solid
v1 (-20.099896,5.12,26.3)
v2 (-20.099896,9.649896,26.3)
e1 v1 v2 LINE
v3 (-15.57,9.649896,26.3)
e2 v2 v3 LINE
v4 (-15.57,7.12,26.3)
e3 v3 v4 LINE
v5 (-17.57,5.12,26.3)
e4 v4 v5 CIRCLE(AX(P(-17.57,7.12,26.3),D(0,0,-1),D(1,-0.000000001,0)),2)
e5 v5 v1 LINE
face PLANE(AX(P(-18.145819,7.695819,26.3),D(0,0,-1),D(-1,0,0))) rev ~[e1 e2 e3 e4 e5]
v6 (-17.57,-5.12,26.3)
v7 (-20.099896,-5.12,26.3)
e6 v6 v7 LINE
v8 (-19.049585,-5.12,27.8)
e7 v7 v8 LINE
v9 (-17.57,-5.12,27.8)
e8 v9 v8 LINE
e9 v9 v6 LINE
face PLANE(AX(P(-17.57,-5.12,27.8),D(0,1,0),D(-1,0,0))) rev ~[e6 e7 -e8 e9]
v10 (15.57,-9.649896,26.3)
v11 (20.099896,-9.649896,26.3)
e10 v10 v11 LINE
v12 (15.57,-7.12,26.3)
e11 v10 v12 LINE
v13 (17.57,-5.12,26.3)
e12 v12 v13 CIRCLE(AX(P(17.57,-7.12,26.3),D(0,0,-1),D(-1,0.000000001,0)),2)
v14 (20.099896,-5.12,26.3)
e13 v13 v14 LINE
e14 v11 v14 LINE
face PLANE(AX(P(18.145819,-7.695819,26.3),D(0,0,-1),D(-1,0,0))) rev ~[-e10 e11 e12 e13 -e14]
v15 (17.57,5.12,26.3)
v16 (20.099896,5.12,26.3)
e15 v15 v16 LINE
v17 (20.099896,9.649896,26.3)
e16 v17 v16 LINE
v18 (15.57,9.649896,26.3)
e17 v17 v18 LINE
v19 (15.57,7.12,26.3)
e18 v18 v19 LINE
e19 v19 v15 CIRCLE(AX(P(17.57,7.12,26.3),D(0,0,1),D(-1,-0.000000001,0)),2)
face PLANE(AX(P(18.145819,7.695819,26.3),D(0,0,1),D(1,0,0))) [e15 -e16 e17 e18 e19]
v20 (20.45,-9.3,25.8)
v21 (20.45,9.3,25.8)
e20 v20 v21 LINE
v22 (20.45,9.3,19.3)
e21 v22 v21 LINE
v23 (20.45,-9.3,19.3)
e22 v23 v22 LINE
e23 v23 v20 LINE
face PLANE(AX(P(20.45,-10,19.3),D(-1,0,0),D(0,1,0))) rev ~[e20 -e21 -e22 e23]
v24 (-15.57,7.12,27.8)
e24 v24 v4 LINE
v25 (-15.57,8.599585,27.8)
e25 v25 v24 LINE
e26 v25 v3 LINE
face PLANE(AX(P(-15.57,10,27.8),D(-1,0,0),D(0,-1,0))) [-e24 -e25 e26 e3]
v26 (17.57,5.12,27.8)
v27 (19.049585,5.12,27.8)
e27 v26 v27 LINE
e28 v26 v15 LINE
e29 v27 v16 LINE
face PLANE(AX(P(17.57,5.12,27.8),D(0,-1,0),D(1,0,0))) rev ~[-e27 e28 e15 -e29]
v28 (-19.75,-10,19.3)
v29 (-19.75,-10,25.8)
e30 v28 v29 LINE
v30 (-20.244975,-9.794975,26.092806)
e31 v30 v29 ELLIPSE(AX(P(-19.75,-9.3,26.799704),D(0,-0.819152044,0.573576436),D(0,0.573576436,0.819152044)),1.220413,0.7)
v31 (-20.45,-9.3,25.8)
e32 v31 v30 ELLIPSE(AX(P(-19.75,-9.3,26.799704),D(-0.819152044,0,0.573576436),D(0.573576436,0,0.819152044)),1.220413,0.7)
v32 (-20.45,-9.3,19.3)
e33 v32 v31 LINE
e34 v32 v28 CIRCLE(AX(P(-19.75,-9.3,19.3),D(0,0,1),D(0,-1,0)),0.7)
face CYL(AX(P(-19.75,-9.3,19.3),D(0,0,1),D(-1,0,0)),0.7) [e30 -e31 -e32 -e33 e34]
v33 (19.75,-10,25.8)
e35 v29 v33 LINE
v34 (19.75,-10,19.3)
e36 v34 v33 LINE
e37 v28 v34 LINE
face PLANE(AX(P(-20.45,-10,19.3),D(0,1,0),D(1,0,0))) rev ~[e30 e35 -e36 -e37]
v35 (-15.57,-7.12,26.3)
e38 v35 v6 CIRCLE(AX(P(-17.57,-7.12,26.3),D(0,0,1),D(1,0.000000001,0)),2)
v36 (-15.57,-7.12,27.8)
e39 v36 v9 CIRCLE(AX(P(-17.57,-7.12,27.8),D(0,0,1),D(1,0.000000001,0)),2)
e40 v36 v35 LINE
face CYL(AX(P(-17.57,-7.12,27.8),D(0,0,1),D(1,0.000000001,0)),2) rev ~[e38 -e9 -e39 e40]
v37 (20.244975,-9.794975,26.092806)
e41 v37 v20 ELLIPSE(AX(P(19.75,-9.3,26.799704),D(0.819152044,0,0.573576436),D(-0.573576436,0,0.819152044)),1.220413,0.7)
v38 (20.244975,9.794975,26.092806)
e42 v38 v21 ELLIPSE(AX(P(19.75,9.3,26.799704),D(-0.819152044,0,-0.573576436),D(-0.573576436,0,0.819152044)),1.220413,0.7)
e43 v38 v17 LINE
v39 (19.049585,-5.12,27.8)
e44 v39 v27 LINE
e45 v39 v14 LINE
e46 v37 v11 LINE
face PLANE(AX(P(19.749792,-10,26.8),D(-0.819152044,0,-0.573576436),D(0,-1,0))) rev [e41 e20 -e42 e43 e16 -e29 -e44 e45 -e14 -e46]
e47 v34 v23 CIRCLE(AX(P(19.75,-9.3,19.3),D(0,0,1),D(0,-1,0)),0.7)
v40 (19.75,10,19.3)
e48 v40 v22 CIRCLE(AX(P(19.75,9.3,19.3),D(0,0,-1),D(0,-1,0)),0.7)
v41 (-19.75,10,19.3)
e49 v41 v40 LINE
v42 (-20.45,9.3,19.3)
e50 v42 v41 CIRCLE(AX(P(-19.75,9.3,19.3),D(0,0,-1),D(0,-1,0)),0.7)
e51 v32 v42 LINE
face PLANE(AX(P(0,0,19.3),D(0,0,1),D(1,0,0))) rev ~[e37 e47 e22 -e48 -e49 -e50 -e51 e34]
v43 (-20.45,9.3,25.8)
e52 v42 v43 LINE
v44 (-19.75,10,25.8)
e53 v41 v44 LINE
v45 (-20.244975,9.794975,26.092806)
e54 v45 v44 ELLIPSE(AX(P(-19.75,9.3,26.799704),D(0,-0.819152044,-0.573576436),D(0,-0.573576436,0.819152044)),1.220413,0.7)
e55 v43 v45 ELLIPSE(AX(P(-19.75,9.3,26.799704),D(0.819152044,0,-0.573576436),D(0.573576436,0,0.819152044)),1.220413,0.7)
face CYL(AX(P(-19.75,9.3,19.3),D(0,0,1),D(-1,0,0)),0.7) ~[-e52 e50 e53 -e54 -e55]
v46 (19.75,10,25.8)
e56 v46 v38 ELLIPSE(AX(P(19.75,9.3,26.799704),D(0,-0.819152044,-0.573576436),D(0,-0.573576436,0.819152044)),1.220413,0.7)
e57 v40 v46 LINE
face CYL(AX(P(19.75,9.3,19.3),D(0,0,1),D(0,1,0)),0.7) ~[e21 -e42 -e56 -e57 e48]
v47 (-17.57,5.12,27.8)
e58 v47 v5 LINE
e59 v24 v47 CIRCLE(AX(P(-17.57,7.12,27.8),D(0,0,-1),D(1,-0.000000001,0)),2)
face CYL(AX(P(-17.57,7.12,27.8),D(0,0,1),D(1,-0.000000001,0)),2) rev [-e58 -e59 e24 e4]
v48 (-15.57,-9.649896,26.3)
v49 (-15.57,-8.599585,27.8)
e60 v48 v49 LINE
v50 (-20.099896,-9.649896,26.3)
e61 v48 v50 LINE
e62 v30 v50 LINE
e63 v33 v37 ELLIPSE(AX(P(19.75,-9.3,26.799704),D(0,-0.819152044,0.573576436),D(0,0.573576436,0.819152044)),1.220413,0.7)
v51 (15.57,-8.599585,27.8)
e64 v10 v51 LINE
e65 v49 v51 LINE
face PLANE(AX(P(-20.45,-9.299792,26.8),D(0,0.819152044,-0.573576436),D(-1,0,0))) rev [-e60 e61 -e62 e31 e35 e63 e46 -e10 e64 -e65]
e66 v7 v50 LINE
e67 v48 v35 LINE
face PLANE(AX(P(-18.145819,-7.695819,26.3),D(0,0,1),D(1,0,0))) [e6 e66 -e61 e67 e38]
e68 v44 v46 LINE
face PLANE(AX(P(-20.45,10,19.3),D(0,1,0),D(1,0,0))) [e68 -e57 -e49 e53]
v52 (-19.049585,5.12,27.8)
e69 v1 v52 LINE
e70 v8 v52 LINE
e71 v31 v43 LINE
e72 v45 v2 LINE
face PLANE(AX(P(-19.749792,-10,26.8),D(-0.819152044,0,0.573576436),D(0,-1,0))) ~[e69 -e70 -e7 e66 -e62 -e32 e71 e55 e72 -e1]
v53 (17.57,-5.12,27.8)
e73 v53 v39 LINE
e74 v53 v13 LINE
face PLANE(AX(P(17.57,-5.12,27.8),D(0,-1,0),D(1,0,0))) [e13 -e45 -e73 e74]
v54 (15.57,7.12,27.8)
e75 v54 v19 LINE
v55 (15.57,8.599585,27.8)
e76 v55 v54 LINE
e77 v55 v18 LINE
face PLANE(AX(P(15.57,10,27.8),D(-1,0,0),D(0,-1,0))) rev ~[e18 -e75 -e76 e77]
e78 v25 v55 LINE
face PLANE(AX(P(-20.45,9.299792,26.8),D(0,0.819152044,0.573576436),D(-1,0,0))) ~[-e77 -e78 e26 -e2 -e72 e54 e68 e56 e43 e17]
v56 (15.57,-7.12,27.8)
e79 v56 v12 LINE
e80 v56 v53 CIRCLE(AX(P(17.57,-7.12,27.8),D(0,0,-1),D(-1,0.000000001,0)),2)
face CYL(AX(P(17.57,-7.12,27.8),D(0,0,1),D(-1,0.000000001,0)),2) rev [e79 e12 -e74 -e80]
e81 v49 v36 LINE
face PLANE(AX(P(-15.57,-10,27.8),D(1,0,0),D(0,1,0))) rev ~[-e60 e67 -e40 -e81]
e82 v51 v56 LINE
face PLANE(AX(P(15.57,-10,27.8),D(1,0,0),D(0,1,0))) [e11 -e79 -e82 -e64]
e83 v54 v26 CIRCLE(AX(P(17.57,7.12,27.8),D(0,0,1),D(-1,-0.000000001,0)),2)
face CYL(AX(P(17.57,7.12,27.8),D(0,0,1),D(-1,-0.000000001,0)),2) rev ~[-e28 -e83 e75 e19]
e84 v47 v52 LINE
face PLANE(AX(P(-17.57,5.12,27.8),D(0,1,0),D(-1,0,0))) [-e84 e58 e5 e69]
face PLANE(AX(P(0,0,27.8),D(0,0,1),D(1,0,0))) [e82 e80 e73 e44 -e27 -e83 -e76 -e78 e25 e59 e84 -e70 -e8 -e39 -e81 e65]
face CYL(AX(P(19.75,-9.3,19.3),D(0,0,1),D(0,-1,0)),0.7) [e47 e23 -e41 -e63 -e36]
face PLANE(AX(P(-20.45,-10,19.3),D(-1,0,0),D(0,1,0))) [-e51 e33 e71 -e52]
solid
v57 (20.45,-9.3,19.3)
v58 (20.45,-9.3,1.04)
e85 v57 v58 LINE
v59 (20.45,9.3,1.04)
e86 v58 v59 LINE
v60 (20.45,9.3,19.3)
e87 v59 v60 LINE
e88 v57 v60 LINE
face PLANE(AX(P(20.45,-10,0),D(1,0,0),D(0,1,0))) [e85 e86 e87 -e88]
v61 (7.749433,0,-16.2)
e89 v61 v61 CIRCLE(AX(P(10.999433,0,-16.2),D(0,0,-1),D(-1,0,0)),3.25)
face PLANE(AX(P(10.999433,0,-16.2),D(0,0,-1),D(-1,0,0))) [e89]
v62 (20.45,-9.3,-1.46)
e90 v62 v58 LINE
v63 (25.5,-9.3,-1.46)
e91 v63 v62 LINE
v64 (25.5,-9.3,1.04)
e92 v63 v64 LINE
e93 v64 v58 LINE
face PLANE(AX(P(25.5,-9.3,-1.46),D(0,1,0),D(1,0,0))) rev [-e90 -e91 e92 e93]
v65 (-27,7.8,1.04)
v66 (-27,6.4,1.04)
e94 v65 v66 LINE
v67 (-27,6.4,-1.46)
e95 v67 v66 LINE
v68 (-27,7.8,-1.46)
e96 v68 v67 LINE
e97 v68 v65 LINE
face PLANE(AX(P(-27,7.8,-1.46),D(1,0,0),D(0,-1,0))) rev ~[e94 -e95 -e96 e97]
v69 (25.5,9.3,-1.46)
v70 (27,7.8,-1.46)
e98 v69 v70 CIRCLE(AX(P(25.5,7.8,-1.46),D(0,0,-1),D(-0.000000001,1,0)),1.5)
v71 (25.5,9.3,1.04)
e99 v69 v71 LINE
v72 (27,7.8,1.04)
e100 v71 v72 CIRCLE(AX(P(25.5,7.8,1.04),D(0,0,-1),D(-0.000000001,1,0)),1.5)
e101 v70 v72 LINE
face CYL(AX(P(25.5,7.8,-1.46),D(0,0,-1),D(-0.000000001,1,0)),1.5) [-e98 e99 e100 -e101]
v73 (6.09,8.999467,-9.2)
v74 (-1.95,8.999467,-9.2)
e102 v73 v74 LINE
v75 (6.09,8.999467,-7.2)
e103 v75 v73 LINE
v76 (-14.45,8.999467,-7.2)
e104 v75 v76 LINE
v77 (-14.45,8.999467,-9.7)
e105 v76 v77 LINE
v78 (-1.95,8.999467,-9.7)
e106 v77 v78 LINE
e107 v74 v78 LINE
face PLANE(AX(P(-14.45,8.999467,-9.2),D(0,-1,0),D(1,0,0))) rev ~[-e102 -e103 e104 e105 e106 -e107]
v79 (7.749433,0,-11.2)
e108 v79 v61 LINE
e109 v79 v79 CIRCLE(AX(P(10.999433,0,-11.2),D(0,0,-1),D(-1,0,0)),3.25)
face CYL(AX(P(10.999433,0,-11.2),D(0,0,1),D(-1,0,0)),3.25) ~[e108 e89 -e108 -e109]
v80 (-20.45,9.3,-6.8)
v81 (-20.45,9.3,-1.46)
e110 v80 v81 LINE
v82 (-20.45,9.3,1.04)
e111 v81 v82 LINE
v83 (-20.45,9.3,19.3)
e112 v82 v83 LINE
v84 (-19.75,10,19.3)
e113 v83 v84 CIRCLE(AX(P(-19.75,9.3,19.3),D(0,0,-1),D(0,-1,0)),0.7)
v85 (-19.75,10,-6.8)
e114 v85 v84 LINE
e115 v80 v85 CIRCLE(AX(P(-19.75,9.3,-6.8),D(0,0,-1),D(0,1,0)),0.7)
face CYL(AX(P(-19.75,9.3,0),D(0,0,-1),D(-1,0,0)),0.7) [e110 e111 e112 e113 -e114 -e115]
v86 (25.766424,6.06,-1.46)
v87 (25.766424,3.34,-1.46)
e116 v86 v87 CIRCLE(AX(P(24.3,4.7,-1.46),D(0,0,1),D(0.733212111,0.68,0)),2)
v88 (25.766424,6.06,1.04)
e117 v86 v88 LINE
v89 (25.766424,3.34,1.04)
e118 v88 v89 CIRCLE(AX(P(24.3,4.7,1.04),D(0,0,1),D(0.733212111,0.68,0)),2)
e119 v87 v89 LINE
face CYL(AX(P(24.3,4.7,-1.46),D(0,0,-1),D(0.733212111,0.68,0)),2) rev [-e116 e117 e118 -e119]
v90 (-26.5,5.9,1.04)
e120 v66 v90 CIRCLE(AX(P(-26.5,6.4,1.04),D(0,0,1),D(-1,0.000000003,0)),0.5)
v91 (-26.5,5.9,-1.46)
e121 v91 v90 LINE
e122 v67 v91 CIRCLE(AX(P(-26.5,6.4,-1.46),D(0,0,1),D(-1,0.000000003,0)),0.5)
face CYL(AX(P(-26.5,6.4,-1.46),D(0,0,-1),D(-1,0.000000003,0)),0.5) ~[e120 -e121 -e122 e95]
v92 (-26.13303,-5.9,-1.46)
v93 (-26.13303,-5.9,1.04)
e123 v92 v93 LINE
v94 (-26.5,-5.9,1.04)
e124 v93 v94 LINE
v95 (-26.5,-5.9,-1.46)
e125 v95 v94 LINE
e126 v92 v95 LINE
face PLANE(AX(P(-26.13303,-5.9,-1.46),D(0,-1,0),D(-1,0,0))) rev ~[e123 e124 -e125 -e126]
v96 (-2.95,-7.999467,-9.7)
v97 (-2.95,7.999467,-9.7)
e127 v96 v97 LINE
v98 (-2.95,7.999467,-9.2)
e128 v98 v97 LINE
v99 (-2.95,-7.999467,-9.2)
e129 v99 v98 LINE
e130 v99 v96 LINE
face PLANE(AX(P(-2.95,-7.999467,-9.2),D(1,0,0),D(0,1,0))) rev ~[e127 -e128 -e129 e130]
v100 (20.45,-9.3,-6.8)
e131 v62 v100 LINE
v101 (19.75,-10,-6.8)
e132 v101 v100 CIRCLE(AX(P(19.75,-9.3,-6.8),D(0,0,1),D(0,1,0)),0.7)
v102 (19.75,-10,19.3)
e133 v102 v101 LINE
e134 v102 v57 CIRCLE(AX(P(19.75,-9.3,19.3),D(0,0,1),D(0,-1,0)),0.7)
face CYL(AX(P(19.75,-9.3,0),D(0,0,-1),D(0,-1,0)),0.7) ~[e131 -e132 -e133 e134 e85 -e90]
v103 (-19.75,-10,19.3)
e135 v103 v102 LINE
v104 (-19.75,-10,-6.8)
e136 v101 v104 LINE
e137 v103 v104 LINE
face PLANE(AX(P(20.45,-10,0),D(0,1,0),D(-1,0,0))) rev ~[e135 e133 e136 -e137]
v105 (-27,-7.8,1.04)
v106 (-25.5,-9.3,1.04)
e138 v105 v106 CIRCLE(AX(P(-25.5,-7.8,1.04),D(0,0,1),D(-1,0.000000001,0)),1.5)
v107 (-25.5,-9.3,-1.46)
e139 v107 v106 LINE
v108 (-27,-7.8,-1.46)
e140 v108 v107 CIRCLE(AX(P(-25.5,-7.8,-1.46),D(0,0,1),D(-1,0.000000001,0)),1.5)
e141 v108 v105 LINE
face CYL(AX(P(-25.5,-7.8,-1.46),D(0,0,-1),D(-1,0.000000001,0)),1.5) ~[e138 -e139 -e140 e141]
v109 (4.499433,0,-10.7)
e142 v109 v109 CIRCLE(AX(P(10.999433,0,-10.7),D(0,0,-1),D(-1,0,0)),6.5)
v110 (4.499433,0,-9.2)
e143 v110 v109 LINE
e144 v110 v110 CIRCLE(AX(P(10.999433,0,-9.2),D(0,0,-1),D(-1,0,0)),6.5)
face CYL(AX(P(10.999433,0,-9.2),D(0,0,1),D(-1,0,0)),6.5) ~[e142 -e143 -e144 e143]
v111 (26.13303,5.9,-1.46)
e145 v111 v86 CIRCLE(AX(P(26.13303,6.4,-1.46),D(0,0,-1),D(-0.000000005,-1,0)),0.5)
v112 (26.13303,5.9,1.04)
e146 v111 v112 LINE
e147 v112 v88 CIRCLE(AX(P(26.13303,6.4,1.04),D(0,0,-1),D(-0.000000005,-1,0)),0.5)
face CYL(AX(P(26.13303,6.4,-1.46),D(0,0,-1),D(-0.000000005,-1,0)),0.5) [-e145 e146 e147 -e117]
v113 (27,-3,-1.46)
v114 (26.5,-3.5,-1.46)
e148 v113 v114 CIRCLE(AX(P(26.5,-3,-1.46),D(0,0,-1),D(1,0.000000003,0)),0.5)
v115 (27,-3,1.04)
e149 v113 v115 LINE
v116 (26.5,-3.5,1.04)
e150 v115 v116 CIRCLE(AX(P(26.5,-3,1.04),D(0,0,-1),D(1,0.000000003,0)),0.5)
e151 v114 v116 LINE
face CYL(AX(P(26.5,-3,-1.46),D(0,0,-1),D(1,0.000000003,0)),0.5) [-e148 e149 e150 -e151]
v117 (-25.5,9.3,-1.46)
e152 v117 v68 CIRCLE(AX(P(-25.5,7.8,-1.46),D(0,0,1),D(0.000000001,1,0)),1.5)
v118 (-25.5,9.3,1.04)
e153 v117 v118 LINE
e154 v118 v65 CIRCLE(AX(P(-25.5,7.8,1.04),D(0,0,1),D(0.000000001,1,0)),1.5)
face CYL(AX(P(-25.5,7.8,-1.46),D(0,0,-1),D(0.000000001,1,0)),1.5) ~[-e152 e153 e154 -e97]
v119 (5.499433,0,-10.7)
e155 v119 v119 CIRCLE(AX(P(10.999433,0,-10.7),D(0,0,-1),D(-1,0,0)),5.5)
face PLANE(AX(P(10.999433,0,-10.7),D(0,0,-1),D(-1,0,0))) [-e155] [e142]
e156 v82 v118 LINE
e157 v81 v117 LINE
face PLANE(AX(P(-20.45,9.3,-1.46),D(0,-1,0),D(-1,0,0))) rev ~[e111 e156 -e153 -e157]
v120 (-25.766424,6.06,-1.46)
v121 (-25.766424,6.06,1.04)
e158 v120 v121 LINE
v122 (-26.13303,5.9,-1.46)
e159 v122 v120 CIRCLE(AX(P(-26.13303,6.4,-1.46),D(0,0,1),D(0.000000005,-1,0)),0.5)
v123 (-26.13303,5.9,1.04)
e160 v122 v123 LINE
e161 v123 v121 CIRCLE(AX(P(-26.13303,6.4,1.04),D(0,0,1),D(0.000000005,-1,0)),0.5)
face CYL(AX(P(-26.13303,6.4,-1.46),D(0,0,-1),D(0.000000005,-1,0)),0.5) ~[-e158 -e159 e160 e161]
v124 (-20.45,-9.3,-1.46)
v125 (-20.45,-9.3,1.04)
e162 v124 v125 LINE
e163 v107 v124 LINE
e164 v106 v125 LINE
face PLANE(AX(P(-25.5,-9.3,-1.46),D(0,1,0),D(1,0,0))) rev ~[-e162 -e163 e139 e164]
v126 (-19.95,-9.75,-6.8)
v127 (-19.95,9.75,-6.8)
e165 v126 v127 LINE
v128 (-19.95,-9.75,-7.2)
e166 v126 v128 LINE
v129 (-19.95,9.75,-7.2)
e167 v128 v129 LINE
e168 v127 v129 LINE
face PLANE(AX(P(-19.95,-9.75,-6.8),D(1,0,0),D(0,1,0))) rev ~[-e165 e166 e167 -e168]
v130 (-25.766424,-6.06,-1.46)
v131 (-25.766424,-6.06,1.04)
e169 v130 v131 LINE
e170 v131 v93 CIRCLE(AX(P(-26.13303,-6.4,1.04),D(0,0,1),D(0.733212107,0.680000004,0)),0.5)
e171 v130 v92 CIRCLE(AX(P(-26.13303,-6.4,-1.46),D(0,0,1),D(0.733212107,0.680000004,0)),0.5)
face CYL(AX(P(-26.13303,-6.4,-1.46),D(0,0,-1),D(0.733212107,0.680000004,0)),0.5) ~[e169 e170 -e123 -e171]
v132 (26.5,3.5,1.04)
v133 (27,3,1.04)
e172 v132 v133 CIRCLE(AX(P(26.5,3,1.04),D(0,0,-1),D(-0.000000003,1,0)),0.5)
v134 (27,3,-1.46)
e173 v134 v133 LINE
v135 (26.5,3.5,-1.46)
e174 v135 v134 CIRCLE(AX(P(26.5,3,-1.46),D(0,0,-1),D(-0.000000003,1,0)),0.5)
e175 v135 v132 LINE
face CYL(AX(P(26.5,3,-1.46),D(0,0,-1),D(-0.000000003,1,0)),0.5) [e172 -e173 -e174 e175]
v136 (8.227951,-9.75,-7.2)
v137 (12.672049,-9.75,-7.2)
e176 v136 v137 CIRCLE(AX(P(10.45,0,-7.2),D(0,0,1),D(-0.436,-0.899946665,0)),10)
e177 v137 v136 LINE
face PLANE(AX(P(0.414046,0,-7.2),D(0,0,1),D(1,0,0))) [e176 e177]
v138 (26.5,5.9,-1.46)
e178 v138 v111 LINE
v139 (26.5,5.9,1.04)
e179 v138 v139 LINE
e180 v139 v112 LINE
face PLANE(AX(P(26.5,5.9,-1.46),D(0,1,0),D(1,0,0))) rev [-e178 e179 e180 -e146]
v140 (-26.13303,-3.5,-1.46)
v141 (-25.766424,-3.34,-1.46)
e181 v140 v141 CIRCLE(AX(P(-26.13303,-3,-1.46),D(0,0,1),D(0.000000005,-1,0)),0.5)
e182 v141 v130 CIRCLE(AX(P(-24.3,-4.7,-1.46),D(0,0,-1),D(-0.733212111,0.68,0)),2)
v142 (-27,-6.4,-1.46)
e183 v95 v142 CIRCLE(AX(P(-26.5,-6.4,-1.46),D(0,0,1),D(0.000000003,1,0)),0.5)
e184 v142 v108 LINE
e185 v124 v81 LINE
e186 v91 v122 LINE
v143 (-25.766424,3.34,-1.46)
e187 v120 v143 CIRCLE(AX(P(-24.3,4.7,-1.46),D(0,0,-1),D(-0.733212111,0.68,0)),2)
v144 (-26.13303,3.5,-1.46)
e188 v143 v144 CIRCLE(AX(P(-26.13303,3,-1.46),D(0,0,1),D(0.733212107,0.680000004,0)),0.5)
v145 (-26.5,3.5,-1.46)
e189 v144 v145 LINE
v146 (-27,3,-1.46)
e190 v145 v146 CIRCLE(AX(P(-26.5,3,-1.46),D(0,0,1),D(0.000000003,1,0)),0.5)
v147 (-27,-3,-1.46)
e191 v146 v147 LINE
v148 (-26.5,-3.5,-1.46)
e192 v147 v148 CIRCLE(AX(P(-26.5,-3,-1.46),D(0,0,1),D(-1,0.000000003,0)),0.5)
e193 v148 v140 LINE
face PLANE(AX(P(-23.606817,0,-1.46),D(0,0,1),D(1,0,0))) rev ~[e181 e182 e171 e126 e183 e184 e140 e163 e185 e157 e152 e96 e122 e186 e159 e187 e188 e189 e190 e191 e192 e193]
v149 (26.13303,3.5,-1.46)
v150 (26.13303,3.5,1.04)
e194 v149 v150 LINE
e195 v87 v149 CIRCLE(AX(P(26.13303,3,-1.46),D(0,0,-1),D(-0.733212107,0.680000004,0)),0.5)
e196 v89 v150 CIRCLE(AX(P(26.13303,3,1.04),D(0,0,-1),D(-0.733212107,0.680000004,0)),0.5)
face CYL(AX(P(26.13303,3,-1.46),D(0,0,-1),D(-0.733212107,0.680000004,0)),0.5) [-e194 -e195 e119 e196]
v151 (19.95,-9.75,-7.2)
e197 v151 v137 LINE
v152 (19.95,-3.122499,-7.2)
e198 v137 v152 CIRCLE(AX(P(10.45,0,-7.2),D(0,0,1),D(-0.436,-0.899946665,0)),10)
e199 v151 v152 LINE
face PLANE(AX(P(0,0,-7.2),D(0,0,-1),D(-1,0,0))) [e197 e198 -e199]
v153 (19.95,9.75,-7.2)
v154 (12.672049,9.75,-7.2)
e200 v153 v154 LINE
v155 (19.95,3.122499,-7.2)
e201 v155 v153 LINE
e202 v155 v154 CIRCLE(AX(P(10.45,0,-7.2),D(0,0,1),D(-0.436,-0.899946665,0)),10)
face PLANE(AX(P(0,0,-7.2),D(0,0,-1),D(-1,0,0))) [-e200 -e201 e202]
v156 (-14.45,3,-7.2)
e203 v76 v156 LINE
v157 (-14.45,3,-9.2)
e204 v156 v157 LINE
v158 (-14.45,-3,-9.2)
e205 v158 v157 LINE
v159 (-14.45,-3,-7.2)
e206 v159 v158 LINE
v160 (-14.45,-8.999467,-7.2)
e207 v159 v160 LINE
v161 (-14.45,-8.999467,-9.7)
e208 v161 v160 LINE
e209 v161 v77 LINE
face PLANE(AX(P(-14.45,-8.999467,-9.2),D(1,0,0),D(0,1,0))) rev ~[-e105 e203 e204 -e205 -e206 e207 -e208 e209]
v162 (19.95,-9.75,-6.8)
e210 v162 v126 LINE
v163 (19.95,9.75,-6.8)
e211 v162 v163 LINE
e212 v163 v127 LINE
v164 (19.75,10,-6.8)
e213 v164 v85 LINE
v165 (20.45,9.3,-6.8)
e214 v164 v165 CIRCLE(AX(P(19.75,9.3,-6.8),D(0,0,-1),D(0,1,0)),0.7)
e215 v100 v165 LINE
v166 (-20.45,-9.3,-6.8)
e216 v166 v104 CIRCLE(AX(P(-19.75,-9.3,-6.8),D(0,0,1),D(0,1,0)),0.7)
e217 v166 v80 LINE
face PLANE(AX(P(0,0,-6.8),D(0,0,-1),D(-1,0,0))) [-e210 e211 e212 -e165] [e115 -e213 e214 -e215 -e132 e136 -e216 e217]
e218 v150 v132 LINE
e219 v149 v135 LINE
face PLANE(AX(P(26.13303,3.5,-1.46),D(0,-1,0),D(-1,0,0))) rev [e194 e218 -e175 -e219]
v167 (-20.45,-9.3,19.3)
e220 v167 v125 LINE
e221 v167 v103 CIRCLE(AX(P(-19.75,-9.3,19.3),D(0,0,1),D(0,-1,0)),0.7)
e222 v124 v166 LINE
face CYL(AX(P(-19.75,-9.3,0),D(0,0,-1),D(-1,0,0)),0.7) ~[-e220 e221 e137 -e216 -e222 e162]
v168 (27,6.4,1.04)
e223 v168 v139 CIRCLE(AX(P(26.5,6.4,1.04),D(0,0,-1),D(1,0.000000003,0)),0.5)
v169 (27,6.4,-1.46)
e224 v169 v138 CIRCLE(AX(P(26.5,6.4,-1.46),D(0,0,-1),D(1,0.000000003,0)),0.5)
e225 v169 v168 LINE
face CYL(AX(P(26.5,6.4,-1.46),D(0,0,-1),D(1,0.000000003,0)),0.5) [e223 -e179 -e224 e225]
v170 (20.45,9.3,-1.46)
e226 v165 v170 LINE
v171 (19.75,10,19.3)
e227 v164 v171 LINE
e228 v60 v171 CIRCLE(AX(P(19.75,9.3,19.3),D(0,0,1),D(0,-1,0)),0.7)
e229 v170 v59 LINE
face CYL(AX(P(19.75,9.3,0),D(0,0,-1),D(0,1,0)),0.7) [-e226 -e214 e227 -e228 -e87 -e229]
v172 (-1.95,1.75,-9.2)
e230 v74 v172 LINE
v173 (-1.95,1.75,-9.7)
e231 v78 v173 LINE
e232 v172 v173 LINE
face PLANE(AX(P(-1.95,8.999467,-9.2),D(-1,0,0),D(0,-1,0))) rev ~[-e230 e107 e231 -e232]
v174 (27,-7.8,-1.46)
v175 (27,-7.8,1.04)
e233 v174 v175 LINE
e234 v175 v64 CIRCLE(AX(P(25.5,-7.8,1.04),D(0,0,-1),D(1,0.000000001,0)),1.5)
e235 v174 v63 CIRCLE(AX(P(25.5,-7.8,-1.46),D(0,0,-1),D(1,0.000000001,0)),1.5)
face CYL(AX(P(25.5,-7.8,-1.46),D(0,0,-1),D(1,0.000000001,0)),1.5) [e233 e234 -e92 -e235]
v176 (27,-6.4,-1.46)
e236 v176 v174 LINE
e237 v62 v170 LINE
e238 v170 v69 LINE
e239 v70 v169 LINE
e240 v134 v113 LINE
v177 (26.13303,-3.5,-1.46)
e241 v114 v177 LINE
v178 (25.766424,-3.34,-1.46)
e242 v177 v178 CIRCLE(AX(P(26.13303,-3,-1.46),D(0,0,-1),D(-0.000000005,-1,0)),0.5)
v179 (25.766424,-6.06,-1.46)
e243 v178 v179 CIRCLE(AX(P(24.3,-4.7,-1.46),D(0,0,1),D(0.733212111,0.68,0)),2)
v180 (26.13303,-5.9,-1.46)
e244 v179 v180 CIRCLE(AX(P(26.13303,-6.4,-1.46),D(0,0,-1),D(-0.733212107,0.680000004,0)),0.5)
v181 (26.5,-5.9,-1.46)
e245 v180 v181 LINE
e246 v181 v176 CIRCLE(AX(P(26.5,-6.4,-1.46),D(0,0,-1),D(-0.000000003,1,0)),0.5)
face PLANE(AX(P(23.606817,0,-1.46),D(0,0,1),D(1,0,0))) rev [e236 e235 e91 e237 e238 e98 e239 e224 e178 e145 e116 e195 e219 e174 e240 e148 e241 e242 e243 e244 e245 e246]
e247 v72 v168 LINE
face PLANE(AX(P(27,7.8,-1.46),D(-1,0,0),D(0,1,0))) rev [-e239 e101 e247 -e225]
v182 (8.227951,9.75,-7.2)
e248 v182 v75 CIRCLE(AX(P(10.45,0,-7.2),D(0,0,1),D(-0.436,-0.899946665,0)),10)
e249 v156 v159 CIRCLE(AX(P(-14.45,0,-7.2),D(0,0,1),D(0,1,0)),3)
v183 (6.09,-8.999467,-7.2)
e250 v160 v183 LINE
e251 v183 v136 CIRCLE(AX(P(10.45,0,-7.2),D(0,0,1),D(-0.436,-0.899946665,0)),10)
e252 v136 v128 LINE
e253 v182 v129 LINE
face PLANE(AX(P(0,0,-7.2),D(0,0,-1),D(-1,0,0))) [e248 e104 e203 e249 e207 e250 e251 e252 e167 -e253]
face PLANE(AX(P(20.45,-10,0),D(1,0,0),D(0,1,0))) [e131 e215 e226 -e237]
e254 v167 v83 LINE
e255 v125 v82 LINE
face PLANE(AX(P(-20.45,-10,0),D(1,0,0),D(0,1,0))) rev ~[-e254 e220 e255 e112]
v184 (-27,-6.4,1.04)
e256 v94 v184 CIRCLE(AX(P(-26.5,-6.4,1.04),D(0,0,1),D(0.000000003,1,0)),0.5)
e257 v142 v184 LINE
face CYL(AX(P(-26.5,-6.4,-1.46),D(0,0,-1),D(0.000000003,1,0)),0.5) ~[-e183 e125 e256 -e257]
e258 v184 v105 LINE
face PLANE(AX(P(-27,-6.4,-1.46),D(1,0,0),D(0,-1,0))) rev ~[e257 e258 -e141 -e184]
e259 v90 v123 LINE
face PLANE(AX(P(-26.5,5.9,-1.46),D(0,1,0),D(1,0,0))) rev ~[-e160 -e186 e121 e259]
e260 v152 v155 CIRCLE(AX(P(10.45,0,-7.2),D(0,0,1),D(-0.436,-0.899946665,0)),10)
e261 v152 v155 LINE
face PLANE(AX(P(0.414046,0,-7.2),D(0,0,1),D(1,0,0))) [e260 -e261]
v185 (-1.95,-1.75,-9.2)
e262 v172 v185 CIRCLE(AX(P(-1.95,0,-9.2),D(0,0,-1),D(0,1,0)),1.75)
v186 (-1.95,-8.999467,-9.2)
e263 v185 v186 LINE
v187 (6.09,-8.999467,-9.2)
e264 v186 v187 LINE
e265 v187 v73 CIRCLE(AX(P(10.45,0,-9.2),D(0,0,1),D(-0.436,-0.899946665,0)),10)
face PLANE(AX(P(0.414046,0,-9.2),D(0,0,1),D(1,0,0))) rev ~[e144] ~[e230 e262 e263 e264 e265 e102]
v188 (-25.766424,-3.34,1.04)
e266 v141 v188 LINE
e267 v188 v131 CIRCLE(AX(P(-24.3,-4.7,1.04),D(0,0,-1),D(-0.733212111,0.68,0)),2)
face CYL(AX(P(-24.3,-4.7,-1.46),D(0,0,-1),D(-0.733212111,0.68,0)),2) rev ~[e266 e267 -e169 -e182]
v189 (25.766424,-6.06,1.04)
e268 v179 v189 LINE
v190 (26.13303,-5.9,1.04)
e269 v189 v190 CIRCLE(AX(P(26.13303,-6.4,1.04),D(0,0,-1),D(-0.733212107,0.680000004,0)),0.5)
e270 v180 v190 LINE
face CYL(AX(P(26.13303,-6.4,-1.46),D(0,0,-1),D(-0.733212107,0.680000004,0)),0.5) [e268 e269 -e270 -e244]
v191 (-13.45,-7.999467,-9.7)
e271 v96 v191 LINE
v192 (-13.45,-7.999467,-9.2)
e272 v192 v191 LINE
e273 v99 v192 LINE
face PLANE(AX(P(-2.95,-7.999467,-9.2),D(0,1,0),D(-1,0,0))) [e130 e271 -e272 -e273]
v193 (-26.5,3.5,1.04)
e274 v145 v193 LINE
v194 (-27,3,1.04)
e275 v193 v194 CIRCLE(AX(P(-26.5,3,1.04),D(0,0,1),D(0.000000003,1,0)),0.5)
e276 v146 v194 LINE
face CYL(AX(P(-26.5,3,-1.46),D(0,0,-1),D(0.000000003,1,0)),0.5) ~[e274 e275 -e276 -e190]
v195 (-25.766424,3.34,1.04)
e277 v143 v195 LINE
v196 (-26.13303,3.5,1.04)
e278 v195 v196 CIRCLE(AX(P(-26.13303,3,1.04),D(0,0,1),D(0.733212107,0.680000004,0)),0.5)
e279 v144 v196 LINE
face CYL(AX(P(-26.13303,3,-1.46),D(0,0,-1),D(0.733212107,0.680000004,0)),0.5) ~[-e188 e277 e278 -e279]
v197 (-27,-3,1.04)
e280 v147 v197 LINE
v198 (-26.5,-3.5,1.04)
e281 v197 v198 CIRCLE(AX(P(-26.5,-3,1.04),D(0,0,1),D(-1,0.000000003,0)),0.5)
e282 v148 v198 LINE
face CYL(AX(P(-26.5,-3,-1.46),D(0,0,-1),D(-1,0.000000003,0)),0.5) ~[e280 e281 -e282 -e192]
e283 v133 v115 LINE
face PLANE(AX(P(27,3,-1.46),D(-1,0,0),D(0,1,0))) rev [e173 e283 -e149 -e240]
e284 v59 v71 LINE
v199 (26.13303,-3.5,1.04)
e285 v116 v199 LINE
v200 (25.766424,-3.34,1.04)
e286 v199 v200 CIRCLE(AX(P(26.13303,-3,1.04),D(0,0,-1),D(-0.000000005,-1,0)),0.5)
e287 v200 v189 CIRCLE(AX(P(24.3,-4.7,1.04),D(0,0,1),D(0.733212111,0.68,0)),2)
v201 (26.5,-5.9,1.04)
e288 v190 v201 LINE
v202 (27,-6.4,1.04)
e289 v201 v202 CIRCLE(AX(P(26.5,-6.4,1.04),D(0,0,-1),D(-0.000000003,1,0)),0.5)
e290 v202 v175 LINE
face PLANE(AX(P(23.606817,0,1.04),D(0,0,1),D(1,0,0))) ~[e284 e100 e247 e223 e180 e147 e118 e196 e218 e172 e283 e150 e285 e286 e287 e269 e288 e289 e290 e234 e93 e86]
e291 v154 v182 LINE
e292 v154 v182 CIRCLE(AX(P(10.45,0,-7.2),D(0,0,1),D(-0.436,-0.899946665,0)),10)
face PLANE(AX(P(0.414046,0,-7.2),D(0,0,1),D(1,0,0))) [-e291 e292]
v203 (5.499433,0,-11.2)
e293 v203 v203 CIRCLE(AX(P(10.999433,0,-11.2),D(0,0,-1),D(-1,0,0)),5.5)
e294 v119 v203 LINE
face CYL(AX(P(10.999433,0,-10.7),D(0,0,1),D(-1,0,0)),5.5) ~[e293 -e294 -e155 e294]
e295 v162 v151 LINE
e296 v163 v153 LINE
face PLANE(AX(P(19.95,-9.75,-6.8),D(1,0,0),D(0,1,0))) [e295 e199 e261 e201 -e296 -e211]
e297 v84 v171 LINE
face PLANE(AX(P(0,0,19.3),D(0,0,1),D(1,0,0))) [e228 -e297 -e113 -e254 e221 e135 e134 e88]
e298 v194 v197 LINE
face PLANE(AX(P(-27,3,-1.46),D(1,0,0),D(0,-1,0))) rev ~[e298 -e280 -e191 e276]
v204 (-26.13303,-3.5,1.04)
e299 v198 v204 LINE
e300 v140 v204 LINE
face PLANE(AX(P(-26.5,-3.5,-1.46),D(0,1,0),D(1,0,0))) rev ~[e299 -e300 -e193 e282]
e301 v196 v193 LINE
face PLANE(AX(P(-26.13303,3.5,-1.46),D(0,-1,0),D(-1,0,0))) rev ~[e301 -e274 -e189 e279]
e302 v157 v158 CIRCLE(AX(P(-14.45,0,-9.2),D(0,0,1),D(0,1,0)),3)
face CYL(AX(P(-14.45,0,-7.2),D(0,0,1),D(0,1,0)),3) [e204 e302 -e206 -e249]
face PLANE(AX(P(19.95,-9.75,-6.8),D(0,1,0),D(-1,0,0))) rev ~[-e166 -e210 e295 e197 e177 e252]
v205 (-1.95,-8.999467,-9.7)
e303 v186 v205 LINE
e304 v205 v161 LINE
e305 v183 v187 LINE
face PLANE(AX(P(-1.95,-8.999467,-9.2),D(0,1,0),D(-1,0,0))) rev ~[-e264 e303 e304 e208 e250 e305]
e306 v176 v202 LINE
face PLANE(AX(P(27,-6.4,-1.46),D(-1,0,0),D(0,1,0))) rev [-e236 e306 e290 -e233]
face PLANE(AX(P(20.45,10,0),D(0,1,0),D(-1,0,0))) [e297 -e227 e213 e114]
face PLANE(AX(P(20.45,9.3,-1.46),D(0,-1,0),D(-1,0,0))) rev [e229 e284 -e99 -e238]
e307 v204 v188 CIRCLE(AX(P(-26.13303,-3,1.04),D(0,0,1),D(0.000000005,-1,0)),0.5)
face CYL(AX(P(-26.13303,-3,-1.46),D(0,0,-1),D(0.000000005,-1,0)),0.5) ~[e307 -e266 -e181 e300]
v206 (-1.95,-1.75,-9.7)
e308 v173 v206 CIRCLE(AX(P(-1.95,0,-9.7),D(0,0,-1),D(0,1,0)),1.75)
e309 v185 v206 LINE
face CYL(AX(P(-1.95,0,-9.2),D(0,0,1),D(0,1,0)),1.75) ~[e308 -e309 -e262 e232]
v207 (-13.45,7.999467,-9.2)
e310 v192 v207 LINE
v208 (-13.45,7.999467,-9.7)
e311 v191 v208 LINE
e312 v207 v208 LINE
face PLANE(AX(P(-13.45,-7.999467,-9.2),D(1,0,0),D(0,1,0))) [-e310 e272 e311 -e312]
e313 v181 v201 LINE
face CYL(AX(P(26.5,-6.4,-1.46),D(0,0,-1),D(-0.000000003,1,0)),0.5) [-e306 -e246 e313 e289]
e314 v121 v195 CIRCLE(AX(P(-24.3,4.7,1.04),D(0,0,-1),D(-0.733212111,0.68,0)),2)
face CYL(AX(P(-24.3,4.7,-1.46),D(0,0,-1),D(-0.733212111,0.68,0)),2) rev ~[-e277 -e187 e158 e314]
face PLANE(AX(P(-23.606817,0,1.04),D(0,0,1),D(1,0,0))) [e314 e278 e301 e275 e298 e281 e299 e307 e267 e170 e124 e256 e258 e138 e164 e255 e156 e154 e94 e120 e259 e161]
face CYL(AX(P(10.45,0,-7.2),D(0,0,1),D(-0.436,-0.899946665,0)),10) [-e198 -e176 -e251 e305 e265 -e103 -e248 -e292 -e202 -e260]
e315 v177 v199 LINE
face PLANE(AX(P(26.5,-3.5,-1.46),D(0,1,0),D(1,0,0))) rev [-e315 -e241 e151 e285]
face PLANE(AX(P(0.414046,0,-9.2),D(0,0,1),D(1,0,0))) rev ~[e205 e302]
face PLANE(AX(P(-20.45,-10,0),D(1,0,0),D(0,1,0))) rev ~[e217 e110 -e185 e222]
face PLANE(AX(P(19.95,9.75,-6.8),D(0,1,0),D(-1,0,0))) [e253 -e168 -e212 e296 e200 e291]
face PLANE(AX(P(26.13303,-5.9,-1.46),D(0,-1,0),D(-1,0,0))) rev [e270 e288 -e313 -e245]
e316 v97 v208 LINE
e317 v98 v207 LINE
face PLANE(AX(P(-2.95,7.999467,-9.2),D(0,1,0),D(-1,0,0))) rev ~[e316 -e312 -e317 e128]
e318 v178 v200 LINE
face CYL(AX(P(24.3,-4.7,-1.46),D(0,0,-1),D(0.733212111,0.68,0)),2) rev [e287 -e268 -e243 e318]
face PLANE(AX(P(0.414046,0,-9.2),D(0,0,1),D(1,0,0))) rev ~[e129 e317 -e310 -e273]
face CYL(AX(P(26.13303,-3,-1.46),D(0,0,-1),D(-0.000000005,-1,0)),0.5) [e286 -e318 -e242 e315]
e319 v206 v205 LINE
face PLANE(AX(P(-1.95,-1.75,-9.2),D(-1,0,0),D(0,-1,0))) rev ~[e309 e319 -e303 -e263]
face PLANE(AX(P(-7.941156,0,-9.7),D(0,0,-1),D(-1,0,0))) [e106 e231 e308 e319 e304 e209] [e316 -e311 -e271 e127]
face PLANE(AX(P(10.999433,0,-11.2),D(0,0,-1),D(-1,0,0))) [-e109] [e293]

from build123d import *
from OCP.BRepFilletAPI import BRepFilletAPI_MakeChamfer

# Parameters (mm, degrees)
SKETCH1_W            = 40.9
SKETCH1_H            = 20
BOSS_EXTRUDE1_DEPTH  = 19.3
SKETCH4_W            = 40.9
SKETCH4_H            = 20
BOSS_EXTRUDE2_DEPTH  = 6.8
SKETCH5_W            = 40.9
SKETCH5_H            = 20
BOSS_EXTRUDE3_DEPTH  = 8.5
CHAMFER1_SIZE        = 2
CHAMFER1_SIZE2       = 1.400415076
CUT_EXTRUDE1_DEPTH   = 1.5
SKETCH8_W            = 39.9
SKETCH8_H            = 19.5
BOSS_EXTRUDE4_DEPTH  = 0.4
BOSS_EXTRUDE5_DEPTH  = 2
SKETCH11_R           = 6.5
BOSS_EXTRUDE6_DEPTH  = 1.5
SKETCH12_R           = 5.5
BOSS_EXTRUDE7_DEPTH  = 0.5
SKETCH13_R           = 3.25
BOSS_EXTRUDE8_DEPTH  = 5
SKETCH14_W           = 10.5
SKETCH14_H           = 15.998933302
BOSS_EXTRUDE9_DEPTH  = 0.5
FILLET1_R            = 0.7
FILLET2_R            = 0.7
FILLET3_R            = 0.7
BOSS_EXTRUDE10_START = -5.74
BOSS_EXTRUDE10_DEPTH = 2.5


with BuildPart() as part:
    # Sketch1 → Boss-Extrude1 (new body)
    with BuildSketch(Plane.XY):
        Rectangle(SKETCH1_W, SKETCH1_H)
    extrude(amount=BOSS_EXTRUDE1_DEPTH)

    # Fillet1
    fillet1_edges = [part.edges().sort_by_distance(p)[0] for p in [
        (20.45, -10, 9.65),
        (-20.45, -10, 9.65),
        (-20.45, 10, 9.65),
        (20.45, 10, 9.65),
    ]]
    fillet(fillet1_edges, radius=FILLET1_R)



with BuildPart() as body_2:
    # Sketch4 → Boss-Extrude2 (new body)
    with BuildSketch(Plane(origin=(0, 0, 0), x_dir=(-1, 0, 0), z_dir=(0, 0, -1))):
        Rectangle(SKETCH4_W, SKETCH4_H)
    extrude(amount=BOSS_EXTRUDE2_DEPTH)

    # Sketch8 → Boss-Extrude4 (add)
    with BuildSketch(Plane(origin=(0, 0, -6.8), x_dir=(-1, 0, 0), z_dir=(0, 0, -1))):
        Rectangle(SKETCH8_W, SKETCH8_H)
    extrude(amount=BOSS_EXTRUDE4_DEPTH)

    # Sketch9 → Boss-Extrude5 (add)
    with BuildSketch(Plane(origin=(0, 0, -7.2), x_dir=(-1, 0, 0), z_dir=(0, 0, -1))):
        with BuildLine():
            Line((-6.09, 8.999466651), (14.45, 8.999466651))
            Line((14.45, 8.999466651), (14.45, 3))
            ThreePointArc((14.45, 3), (17.45, 0), (14.45, -3))
            Line((14.45, -3), (14.45, -8.999466651))
            Line((14.45, -8.999466651), (-6.09, -8.999466651))
            ThreePointArc((-6.09, -8.999466651), (-20.45, 0), (-6.09, 8.999466651))
        make_face()
    extrude(amount=BOSS_EXTRUDE5_DEPTH)

    # Sketch11 → Boss-Extrude6 (add)
    with BuildSketch(Plane(origin=(0, 0, -9.2), x_dir=(-1, 0, 0), z_dir=(0, 0, -1))):
        with Locations((-10.999432969, 0)):
            Circle(SKETCH11_R)
    extrude(amount=BOSS_EXTRUDE6_DEPTH)

    # Sketch12 → Boss-Extrude7 (add)
    with BuildSketch(Plane(origin=(0, 0, -10.7), x_dir=(-1, 0, 0), z_dir=(0, 0, -1))):
        with Locations((-10.999432969, 0)):
            Circle(SKETCH12_R)
    extrude(amount=BOSS_EXTRUDE7_DEPTH)

    # Sketch13 → Boss-Extrude8 (add)
    with BuildSketch(Plane(origin=(0, 0, -11.2), x_dir=(-1, 0, 0), z_dir=(0, 0, -1))):
        with Locations((-10.999432969, 0)):
            Circle(SKETCH13_R)
    extrude(amount=BOSS_EXTRUDE8_DEPTH)

    # Sketch14 → Boss-Extrude9 (add)
    with BuildSketch(Plane(origin=(0, 0, -9.2), x_dir=(-1, 0, 0), z_dir=(0, 0, -1))):
        with BuildLine():
            Line((14.45, -8.999466651), (14.45, 8.999466651))
            Line((14.45, 8.999466651), (1.95, 8.999466651))
            Line((1.95, 8.999466651), (1.95, 1.75))
            ThreePointArc((1.95, 1.75), (0.2, 0), (1.95, -1.75))
            Line((1.95, -1.75), (1.95, -8.999466651))
            Line((1.95, -8.999466651), (14.45, -8.999466651))
        make_face()
        with Locations((8.2, 0)):
            Rectangle(SKETCH14_W, SKETCH14_H, mode=Mode.SUBTRACT)
    extrude(amount=BOSS_EXTRUDE9_DEPTH)

    # Fillet2
    fillet2_edges = [body_2.edges().sort_by_distance(p)[0] for p in [
        (-20.45, 10, -3.4),
        (-20.45, -10, -3.4),
        (20.45, -10, -3.4),
        (20.45, 10, -3.4),
    ]]
    fillet(fillet2_edges, radius=FILLET2_R)


with BuildPart() as body_3:
    # Sketch5 → Boss-Extrude3 (new body)
    with BuildSketch(Plane.XY.offset(19.3)):
        Rectangle(SKETCH5_W, SKETCH5_H)
    extrude(amount=BOSS_EXTRUDE3_DEPTH)

    # Chamfer1: one chamfer whose edges measure the first distance from different faces: ONE call of the kernel's chamfer builder (chamfer() names one face for all edges)
    chamfer1_edges_1 = [body_3.edges().sort_by_distance(p)[0] for p in [
        (0, 10, 27.8),
    ]]
    chamfer1_side_1 = [body_3.faces().sort_by_distance(p)[0] for p in [
        (0, 10, 23.55),
    ]]
    chamfer1_edges_2 = [body_3.edges().sort_by_distance(p)[0] for p in [
        (-20.45, 0, 27.8),
    ]]
    chamfer1_side_2 = [body_3.faces().sort_by_distance(p)[0] for p in [
        (-20.45, 0, 23.55),
    ]]
    chamfer1_edges_3 = [body_3.edges().sort_by_distance(p)[0] for p in [
        (0, -10, 27.8),
    ]]
    chamfer1_side_3 = [body_3.faces().sort_by_distance(p)[0] for p in [
        (0, -10, 23.55),
    ]]
    chamfer1_edges_4 = [body_3.edges().sort_by_distance(p)[0] for p in [
        (20.45, 0, 27.8),
    ]]
    chamfer1_side_4 = [body_3.faces().sort_by_distance(p)[0] for p in [
        (20.45, 0, 23.55),
    ]]
    chamfer1 = BRepFilletAPI_MakeChamfer(body_3.part.solid().wrapped)
    for e in chamfer1_edges_1:
        chamfer1.Add(CHAMFER1_SIZE, CHAMFER1_SIZE2, e.wrapped, chamfer1_side_1[0].wrapped)  # the first distance lies on this face
    for e in chamfer1_edges_2:
        chamfer1.Add(CHAMFER1_SIZE, CHAMFER1_SIZE2, e.wrapped, chamfer1_side_2[0].wrapped)  # the first distance lies on this face
    for e in chamfer1_edges_3:
        chamfer1.Add(CHAMFER1_SIZE, CHAMFER1_SIZE2, e.wrapped, chamfer1_side_3[0].wrapped)  # the first distance lies on this face
    for e in chamfer1_edges_4:
        chamfer1.Add(CHAMFER1_SIZE, CHAMFER1_SIZE2, e.wrapped, chamfer1_side_4[0].wrapped)  # the first distance lies on this face
    add(Compound.cast(chamfer1.Shape()), mode=Mode.REPLACE)

    # Sketch7 → Cut-Extrude1 (cut)
    with BuildSketch(Plane.XY.offset(27.8)):
        with BuildLine():
            Line((-20.45, 10), (-15.57, 10))
            Line((-15.57, 10), (-15.57, 7.12))
            ThreePointArc((-15.57, 7.12), (-16.155786438, 5.705786438), (-17.57, 5.12))
            Line((-17.57, 5.12), (-20.45, 5.12))
            Line((-20.45, 5.12), (-20.45, 10))
        make_face()
        with BuildLine():
            Line((15.57, 10), (15.57, 7.12))
            ThreePointArc((15.57, 7.12), (16.155786438, 5.705786438), (17.57, 5.12))
            Line((17.57, 5.12), (20.45, 5.12))
            Line((20.45, 5.12), (20.45, 10))
            Line((20.45, 10), (15.57, 10))
        make_face()
        with BuildLine():
            Line((-15.57, -10), (-15.57, -7.12))
            ThreePointArc((-15.57, -7.12), (-16.155786438, -5.705786438), (-17.57, -5.12))
            Line((-17.57, -5.12), (-20.45, -5.12))
            Line((-20.45, -5.12), (-20.45, -10))
            Line((-20.45, -10), (-15.57, -10))
        make_face()
        with BuildLine():
            Line((20.45, -10), (15.57, -10))
            Line((15.57, -10), (15.57, -7.12))
            ThreePointArc((15.57, -7.12), (16.155786438, -5.705786438), (17.57, -5.12))
            Line((17.57, -5.12), (20.45, -5.12))
            Line((20.45, -5.12), (20.45, -10))
        make_face()
    extrude(amount=-CUT_EXTRUDE1_DEPTH, mode=Mode.SUBTRACT)

    # Fillet3
    fillet3_edges = [body_3.edges().sort_by_distance(p)[0] for p in [
        (-20.45, -10, 22.55),
        (-20.45, 10, 22.55),
        (20.45, 10, 22.55),
        (20.45, -10, 22.55),
    ]]
    fillet(fillet3_edges, radius=FILLET3_R)


with BuildPart() as part_1:
    add(part.part)

    add(body_2.part)  # Boss-Extrude10 merges body 2
    # Sketch15 → Boss-Extrude10 (add)
    with BuildSketch(Plane(origin=(0, 0, -7.2), x_dir=(-1, 0, 0), z_dir=(0, 0, -1)).offset(BOSS_EXTRUDE10_START)):
        with BuildLine():
            Line((20.45, 9.3), (25.5, 9.3))
            ThreePointArc((25.5, 9.3), (26.560660172, 8.860660172), (27, 7.8))
            Line((27, 7.8), (27, 6.4))
            ThreePointArc((27, 6.4), (26.853553391, 6.046446609), (26.5, 5.9))
            Line((26.5, 5.9), (26.133030278, 5.9))
            ThreePointArc((26.133030278, 5.9), (25.933030278, 5.941742431), (25.766424222, 6.06))
            ThreePointArc((25.766424222, 6.06), (22.3, 4.7), (25.766424222, 3.34))
            ThreePointArc((25.766424222, 3.34), (25.933030278, 3.458257569), (26.133030278, 3.5))
            Line((26.133030278, 3.5), (26.5, 3.5))
            ThreePointArc((26.5, 3.5), (26.853553391, 3.353553391), (27, 3))
            Line((27, 3), (27, -3))
            ThreePointArc((27, -3), (26.853553391, -3.353553391), (26.5, -3.5))
            Line((26.5, -3.5), (26.133030278, -3.5))
            ThreePointArc((26.133030278, -3.5), (25.933030278, -3.458257569), (25.766424222, -3.34))
            ThreePointArc((25.766424222, -3.34), (22.3, -4.7), (25.766424222, -6.06))
            ThreePointArc((25.766424222, -6.06), (25.933030278, -5.941742431), (26.133030278, -5.9))
            Line((26.133030278, -5.9), (26.5, -5.9))
            ThreePointArc((26.5, -5.9), (26.853553391, -6.046446609), (27, -6.4))
            Line((27, -6.4), (27, -7.8))
            ThreePointArc((27, -7.8), (26.560660172, -8.860660172), (25.5, -9.3))
            Line((25.5, -9.3), (20.45, -9.3))
            Line((20.45, -9.3), (20.45, 9.3))
        make_face()
    boss_extrude10 = extrude(amount=-BOSS_EXTRUDE10_DEPTH)

    # Mirror1: Boss-Extrude10 across plane
    add(boss_extrude10.mirror(Plane(origin=(0, 0, 0), x_dir=(0, 0, 1), z_dir=(1, 0, 0))))


solid = Compound([body_3.part, part_1.part])
